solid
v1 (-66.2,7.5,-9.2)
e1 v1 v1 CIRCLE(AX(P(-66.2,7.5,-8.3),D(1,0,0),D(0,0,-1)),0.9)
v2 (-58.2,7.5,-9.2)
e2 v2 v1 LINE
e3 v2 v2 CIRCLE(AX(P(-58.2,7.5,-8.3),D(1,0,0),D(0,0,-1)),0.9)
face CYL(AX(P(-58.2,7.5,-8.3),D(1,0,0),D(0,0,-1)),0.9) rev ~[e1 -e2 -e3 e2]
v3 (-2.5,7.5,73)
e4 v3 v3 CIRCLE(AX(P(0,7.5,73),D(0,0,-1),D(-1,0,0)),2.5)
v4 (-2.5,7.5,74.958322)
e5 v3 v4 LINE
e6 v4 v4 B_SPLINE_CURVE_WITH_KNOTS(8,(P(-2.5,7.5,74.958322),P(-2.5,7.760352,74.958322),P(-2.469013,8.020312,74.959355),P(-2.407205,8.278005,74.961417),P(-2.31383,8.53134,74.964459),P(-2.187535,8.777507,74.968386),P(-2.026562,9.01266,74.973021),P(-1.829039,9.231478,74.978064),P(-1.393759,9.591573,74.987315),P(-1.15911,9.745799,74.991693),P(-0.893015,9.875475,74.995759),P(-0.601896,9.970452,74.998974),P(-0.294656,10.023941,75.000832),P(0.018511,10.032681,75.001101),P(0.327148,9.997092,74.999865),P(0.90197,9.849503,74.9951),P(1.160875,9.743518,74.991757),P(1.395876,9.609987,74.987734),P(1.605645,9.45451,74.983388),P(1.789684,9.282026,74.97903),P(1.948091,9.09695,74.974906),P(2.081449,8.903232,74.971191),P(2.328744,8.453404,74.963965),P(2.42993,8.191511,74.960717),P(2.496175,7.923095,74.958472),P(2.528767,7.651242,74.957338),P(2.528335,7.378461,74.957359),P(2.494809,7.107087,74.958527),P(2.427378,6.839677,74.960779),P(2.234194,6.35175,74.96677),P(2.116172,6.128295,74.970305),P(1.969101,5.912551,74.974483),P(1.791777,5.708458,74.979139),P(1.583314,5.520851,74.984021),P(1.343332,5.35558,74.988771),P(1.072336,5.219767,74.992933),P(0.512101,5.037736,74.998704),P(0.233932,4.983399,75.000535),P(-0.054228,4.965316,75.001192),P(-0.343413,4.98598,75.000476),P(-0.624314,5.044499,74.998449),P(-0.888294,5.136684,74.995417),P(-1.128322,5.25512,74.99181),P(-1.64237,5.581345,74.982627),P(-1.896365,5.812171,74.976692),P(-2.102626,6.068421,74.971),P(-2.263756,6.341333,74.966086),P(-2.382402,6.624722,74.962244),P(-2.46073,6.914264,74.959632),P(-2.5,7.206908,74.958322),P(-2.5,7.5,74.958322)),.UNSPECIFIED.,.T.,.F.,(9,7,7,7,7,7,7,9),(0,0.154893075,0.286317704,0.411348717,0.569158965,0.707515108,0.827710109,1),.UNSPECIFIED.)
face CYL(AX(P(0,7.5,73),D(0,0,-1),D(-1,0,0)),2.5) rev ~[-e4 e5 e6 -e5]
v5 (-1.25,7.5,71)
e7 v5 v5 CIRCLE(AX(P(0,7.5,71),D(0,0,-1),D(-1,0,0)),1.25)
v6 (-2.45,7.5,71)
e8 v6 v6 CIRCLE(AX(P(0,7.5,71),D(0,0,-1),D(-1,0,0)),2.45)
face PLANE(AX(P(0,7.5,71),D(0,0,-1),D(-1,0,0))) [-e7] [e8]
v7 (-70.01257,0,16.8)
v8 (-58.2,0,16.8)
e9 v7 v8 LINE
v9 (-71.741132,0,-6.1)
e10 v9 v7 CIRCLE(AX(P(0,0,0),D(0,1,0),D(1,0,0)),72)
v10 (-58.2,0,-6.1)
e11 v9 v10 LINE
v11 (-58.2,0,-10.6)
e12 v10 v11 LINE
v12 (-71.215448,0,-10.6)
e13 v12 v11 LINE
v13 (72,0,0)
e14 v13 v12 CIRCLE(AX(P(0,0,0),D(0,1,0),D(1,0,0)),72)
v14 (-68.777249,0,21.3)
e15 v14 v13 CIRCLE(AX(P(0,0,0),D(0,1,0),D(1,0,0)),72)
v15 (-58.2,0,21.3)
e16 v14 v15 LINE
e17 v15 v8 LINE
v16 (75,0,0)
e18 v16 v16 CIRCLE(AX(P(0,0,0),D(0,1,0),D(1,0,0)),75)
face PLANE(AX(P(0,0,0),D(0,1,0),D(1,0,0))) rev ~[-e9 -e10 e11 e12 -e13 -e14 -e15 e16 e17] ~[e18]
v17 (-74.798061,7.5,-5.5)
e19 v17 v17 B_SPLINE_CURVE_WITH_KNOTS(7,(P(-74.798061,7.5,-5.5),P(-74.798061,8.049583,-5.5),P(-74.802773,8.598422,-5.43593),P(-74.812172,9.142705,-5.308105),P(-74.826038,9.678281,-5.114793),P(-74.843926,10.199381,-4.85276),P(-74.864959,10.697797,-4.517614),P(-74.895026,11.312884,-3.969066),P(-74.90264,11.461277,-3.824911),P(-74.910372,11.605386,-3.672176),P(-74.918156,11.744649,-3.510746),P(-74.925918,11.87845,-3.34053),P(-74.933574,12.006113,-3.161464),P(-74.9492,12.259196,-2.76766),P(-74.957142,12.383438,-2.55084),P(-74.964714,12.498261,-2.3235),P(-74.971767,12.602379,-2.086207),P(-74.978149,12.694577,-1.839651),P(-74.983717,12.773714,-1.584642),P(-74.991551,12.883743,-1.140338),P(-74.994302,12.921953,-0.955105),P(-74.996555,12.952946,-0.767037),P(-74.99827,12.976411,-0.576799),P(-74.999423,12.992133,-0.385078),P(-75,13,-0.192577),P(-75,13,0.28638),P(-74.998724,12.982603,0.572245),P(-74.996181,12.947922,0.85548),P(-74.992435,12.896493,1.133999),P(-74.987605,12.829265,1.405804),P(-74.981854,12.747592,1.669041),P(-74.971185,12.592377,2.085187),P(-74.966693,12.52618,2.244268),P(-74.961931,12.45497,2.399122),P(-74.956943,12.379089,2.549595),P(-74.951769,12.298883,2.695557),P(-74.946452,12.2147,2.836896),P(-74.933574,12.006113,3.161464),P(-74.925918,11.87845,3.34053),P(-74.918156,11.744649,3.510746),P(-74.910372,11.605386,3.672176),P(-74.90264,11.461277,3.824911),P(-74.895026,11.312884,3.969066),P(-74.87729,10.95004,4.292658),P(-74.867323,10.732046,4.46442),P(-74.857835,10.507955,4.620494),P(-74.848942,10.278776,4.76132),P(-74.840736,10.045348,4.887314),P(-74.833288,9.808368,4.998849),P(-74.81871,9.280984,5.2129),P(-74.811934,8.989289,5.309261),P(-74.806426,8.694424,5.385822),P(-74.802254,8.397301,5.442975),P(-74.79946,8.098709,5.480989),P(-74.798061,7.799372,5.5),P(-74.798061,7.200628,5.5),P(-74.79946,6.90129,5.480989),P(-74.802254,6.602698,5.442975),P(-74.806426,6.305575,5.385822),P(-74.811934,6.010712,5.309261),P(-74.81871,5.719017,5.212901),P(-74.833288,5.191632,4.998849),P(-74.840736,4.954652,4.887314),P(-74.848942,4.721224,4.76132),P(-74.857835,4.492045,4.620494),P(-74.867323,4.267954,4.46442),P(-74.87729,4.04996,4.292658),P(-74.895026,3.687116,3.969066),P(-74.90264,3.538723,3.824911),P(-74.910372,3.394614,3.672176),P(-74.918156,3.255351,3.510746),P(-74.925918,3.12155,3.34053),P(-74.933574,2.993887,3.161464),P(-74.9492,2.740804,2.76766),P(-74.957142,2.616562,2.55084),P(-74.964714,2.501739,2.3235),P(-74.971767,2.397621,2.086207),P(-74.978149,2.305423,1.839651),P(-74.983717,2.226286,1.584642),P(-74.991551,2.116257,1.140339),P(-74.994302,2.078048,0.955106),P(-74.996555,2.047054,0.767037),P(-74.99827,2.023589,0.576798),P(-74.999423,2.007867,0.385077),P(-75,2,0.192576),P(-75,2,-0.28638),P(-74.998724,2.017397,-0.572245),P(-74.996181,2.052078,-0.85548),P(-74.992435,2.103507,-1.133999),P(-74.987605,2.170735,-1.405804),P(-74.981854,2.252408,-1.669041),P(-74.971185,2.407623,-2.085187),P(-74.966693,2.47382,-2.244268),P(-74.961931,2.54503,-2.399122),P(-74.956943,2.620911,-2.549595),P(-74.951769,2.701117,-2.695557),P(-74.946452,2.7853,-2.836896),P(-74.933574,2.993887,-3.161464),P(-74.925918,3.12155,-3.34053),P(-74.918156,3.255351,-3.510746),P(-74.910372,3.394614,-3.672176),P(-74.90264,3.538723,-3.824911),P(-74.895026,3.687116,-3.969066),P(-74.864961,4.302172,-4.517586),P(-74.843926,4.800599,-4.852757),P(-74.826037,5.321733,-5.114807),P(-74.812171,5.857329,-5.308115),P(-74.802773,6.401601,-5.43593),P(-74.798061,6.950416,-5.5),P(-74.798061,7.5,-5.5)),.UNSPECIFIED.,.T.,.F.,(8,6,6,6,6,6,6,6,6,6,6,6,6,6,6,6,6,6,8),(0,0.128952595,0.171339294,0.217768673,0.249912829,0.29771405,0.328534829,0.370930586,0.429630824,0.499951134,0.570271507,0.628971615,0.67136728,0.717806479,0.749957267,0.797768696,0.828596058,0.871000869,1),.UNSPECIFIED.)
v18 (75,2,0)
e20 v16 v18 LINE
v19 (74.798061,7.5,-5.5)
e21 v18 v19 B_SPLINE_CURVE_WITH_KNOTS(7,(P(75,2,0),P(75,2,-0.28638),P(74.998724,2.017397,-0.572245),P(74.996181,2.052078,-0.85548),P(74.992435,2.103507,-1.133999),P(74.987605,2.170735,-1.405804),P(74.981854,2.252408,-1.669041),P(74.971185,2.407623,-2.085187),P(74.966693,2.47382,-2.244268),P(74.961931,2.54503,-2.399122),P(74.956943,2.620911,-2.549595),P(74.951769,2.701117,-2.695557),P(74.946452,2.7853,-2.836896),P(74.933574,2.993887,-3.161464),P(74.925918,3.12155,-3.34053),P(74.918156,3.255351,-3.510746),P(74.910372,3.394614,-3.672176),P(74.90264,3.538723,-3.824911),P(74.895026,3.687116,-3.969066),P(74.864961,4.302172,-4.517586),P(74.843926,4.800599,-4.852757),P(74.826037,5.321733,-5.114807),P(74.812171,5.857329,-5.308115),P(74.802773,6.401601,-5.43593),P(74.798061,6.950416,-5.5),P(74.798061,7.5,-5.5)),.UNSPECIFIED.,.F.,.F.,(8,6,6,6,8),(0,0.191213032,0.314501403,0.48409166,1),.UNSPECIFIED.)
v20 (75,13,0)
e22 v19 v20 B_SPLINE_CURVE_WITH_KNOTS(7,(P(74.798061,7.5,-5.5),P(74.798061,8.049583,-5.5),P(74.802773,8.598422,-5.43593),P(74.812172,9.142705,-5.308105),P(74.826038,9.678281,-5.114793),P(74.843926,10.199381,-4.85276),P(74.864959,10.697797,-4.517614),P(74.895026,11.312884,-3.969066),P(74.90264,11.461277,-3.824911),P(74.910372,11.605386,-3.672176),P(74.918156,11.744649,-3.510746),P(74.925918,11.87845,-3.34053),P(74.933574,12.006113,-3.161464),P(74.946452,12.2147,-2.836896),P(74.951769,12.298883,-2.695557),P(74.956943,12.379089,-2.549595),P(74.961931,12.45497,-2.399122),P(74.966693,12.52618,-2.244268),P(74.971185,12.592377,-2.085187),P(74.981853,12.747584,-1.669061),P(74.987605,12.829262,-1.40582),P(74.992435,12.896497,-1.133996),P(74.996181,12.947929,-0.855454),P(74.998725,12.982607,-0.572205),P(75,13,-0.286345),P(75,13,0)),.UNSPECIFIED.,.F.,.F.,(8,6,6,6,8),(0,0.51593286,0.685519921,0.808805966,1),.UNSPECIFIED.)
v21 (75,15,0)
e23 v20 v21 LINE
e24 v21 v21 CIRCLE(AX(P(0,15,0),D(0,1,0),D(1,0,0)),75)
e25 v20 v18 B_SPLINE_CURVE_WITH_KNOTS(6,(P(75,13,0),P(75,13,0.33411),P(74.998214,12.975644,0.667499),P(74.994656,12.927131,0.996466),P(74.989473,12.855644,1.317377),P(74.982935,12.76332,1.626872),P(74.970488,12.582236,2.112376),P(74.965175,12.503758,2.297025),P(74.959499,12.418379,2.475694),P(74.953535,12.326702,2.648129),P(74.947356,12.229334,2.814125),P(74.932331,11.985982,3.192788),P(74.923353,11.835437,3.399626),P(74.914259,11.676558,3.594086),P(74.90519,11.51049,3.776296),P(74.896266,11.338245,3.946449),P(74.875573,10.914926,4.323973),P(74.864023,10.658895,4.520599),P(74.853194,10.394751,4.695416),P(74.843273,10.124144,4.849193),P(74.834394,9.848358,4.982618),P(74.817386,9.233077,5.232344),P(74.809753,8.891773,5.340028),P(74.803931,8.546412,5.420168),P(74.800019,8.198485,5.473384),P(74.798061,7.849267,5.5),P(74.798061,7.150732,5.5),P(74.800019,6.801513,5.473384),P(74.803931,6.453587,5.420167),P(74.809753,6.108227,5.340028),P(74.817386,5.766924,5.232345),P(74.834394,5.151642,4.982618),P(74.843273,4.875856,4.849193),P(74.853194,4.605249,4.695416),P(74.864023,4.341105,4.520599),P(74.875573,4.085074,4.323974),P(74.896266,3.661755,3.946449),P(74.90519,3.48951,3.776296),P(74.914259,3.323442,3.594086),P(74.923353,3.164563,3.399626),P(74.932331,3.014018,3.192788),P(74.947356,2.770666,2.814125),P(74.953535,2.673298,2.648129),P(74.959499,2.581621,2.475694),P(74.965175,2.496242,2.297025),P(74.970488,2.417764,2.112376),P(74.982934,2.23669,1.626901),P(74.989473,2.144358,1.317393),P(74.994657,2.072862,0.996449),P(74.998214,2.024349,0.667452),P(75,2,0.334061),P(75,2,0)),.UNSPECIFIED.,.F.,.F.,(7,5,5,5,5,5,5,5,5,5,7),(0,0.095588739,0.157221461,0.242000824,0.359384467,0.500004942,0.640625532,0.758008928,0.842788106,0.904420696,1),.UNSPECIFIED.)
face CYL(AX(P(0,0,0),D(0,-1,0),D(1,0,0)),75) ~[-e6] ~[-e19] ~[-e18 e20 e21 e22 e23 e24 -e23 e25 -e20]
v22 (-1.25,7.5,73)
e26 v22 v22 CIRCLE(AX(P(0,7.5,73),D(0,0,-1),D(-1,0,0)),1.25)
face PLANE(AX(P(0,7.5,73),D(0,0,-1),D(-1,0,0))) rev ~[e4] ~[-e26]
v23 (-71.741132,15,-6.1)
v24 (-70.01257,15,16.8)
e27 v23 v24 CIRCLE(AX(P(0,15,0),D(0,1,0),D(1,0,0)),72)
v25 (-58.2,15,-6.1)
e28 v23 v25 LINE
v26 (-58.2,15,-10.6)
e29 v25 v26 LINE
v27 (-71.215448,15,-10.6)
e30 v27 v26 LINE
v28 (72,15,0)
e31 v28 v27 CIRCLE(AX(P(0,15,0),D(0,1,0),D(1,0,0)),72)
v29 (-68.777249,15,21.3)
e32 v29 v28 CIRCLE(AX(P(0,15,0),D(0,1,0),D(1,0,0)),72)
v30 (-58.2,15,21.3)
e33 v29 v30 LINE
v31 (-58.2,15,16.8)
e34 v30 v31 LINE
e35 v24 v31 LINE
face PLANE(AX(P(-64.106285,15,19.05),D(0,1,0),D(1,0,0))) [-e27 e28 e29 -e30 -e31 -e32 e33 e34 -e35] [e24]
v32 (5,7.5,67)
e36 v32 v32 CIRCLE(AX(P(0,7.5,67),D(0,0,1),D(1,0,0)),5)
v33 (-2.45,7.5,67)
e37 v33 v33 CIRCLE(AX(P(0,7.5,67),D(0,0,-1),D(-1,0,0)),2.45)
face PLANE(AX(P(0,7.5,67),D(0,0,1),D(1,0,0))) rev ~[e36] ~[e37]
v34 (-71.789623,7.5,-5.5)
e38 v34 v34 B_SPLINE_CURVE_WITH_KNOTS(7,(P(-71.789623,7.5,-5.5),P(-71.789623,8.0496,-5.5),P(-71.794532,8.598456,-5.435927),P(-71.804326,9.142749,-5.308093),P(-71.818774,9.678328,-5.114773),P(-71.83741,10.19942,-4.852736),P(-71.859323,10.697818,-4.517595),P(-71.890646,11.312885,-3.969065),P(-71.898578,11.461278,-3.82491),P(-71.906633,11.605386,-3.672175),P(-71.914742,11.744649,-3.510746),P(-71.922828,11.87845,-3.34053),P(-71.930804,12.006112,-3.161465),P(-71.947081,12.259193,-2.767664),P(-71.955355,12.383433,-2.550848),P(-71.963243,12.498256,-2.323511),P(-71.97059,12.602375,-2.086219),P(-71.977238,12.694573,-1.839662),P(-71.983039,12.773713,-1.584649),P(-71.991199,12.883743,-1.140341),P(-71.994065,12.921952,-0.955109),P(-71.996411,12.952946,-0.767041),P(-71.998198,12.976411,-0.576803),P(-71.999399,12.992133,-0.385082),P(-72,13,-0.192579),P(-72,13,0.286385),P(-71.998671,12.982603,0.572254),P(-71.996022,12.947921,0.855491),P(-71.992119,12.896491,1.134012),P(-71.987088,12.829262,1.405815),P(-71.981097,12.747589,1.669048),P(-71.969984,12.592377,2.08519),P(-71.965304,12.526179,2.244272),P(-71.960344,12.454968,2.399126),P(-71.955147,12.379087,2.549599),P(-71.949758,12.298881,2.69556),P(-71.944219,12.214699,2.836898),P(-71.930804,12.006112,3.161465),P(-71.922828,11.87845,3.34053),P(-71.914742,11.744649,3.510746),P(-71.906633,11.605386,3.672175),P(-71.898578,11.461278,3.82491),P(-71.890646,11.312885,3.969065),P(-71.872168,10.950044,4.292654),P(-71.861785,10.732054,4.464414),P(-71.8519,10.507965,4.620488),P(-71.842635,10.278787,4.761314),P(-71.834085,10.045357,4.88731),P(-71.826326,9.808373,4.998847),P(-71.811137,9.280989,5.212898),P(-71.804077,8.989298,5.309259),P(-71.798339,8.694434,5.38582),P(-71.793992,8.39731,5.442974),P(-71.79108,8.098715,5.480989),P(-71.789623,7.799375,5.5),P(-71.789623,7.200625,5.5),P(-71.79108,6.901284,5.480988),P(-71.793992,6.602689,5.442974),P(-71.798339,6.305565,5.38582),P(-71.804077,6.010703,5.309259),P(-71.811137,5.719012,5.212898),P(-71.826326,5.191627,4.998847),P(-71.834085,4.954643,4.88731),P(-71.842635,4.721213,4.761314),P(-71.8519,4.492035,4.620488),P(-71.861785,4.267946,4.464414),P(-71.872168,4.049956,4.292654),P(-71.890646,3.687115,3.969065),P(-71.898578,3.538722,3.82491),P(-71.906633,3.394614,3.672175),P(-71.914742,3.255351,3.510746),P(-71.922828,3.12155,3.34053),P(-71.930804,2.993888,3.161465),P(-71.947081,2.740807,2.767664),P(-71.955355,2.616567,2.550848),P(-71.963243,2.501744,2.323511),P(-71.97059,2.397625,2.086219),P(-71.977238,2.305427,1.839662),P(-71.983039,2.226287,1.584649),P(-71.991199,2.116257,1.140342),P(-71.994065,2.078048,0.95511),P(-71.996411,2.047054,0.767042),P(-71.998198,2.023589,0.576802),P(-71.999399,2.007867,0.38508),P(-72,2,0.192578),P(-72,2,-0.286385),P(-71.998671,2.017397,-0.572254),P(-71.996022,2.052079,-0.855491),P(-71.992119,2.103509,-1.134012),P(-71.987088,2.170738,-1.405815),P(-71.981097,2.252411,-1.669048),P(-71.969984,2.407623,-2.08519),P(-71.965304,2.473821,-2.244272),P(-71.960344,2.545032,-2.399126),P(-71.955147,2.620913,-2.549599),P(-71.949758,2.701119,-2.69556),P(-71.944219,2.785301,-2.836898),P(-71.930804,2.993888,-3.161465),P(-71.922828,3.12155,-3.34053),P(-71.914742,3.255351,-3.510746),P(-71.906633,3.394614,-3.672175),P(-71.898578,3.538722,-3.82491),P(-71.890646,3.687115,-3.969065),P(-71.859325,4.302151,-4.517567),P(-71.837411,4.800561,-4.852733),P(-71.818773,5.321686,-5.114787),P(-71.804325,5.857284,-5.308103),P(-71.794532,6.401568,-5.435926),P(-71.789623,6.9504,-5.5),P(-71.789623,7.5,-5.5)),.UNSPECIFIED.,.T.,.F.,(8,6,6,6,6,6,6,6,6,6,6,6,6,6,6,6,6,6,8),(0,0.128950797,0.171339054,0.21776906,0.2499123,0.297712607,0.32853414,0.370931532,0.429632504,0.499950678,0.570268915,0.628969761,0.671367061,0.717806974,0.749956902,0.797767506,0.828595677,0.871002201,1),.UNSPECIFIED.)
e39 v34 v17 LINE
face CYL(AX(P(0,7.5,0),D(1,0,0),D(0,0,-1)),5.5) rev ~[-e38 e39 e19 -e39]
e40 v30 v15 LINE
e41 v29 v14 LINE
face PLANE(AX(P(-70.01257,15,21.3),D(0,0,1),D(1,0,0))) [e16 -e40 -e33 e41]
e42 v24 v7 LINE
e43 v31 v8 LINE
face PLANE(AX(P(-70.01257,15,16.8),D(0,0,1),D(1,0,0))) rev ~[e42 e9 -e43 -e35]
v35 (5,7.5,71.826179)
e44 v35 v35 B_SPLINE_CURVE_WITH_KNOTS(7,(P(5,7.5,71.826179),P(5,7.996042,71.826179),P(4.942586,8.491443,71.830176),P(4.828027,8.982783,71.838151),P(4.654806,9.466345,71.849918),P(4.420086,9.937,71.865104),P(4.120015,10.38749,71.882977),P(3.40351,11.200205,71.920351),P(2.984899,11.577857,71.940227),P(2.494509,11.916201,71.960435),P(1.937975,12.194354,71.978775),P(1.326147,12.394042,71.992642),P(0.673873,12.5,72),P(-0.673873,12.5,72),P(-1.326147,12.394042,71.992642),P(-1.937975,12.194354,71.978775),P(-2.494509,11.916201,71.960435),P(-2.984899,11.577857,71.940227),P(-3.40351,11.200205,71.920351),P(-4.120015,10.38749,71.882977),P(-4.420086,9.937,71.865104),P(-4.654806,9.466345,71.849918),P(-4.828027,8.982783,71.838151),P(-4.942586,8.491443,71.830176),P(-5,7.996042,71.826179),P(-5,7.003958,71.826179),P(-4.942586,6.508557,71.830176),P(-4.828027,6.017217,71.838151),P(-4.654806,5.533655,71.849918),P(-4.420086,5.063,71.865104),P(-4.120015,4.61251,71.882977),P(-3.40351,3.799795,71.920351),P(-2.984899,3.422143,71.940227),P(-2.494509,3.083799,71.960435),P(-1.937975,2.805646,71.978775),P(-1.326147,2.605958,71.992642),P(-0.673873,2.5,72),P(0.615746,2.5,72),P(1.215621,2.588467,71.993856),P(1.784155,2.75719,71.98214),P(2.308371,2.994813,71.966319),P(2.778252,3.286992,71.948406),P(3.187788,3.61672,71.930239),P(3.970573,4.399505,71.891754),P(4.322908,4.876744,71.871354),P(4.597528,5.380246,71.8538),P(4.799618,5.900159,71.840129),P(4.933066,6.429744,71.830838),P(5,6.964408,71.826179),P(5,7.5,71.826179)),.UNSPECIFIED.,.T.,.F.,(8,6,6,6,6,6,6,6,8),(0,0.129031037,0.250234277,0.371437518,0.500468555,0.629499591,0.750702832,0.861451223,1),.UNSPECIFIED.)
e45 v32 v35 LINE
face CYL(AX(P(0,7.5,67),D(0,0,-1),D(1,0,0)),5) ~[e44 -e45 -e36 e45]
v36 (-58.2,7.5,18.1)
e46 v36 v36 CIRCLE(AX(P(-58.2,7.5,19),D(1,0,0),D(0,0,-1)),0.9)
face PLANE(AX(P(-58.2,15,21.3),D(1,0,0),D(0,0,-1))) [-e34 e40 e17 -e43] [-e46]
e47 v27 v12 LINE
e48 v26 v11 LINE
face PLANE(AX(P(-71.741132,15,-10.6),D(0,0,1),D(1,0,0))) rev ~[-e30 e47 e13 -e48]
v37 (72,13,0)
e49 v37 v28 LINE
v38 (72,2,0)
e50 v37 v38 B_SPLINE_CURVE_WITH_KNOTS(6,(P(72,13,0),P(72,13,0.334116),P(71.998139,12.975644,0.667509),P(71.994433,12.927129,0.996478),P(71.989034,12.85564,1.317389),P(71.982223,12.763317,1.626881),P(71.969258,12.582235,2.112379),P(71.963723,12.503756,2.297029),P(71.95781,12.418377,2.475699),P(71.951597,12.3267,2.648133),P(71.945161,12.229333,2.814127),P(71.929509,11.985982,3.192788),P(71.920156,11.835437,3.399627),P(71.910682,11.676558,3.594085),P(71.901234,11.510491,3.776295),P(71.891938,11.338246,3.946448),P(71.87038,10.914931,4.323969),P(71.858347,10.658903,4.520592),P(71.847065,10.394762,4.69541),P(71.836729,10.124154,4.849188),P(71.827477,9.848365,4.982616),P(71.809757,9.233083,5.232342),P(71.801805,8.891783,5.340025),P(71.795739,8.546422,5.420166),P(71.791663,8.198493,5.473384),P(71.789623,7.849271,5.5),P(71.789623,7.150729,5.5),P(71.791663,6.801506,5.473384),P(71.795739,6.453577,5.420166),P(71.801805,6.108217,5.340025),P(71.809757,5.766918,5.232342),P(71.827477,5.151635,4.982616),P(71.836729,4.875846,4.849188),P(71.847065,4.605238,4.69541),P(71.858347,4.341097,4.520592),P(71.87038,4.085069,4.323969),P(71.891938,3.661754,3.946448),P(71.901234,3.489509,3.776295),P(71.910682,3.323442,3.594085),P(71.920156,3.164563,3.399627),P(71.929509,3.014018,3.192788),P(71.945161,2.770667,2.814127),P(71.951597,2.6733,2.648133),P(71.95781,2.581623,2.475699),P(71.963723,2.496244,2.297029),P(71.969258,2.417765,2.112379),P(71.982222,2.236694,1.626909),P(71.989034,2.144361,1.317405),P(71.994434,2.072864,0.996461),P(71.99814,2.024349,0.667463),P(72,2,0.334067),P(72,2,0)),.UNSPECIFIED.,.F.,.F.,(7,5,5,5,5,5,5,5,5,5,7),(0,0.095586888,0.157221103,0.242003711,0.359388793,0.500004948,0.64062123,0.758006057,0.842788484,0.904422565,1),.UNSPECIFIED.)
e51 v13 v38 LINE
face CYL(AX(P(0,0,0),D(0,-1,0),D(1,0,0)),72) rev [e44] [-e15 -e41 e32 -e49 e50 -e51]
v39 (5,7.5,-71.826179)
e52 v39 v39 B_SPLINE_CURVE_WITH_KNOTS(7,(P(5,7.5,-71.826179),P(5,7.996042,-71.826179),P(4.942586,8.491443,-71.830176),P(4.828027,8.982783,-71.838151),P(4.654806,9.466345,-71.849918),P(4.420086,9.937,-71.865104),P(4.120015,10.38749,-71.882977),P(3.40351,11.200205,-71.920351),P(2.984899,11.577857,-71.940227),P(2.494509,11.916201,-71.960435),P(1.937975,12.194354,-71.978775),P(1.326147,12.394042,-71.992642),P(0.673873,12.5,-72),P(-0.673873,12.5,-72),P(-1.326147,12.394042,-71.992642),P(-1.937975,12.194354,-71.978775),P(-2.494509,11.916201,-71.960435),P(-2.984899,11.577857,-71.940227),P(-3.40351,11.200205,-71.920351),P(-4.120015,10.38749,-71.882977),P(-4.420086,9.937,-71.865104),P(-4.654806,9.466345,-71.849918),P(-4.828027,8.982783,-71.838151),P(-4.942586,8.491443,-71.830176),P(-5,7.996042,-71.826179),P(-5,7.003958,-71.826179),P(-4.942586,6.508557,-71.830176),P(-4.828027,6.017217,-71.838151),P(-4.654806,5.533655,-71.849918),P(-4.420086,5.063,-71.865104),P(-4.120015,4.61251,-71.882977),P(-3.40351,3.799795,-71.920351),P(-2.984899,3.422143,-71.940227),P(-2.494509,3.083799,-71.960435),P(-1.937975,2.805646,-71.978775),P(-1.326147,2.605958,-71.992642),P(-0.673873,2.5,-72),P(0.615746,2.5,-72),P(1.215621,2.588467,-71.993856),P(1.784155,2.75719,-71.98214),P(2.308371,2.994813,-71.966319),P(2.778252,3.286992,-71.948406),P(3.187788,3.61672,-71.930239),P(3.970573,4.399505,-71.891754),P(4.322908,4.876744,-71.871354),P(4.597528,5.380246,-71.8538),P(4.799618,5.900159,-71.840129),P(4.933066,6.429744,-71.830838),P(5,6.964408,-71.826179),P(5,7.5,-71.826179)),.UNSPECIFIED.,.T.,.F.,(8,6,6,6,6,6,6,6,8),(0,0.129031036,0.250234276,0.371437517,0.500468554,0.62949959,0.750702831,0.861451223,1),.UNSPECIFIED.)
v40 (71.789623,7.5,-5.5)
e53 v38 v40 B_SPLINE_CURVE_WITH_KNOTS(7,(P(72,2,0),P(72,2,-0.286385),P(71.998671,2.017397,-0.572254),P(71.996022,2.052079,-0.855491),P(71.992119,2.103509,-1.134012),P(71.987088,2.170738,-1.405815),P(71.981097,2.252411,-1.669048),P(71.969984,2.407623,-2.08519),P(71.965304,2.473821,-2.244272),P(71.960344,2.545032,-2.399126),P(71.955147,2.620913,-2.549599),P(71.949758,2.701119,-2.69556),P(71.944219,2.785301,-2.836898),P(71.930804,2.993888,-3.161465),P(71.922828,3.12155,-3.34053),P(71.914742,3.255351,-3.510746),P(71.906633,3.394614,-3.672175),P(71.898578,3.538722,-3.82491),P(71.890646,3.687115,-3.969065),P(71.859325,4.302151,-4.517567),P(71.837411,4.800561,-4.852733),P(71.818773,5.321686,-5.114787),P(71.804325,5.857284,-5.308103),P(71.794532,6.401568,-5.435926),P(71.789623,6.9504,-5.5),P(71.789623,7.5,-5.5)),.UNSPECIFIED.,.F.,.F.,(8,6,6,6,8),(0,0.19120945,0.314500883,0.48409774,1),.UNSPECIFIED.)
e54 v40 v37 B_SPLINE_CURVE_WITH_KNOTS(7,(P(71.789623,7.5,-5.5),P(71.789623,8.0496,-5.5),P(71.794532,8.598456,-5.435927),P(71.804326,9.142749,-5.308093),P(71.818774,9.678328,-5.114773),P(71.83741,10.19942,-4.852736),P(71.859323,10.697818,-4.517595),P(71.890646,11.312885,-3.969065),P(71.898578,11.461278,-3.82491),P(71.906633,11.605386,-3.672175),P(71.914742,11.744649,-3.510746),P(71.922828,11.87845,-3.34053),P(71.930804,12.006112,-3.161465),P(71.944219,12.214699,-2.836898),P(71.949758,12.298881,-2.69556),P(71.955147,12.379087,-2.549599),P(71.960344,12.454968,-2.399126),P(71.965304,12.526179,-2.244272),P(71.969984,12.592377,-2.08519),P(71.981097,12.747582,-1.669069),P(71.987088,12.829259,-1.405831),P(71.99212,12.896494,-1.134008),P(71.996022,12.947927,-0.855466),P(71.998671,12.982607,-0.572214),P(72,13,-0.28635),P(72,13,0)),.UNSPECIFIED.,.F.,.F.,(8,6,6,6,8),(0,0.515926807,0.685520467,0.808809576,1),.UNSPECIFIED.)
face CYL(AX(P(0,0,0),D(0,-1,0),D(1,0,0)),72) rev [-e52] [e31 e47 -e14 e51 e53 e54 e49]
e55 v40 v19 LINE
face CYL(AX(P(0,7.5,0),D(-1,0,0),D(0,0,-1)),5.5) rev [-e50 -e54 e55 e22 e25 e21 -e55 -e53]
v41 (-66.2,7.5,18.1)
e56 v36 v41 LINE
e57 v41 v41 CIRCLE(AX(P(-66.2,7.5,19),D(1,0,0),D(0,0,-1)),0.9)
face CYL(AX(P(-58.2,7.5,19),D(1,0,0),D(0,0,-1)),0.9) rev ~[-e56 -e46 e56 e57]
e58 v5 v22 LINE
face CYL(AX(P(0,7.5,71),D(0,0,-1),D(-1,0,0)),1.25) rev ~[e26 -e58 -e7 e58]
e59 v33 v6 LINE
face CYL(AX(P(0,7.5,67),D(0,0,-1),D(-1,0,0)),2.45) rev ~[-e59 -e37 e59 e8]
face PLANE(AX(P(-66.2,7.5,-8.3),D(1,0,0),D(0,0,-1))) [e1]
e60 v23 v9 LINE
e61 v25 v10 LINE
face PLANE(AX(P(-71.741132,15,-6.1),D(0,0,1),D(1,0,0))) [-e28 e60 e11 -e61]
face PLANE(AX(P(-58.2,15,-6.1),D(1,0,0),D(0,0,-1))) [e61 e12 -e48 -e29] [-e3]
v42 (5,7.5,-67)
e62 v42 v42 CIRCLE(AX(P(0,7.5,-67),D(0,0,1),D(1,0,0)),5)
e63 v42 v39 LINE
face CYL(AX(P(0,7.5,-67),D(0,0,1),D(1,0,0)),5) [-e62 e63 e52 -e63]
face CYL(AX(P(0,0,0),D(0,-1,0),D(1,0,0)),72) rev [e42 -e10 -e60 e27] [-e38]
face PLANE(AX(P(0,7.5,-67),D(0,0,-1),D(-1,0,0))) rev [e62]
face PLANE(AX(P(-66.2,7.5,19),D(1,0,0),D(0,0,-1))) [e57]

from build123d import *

# Parameters (mm, degrees)
SKETCH1_R               = 75
SKETCH1_R_2             = 72
BOSS_EXTRUDE1_DEPTH     = 15
SKETCH2_R               = 5.5
CUT_EXTRUDE1_DEPTH      = 76
CUT_EXTRUDE1_DEPTH_BACK = 76
BOSS_EXTRUDE2_START     = -6
SKETCH3_R               = 5
BOSS_EXTRUDE2_DEPTH     = 7
SKETCH4_W               = 11.8125703
SKETCH4_H               = 4.5
SKETCH4_W_2             = 13.541131856
BOSS_EXTRUDE3_DEPTH     = 15
SKETCH5_R               = 0.9
CUT_EXTRUDE2_DEPTH      = 8
SKETCH6_R               = 2.45
CUT_EXTRUDE3_DEPTH      = 4
SKETCH7_R               = 1.25
CUT_EXTRUDE4_DEPTH      = 4
SKETCH8_R               = 2.5
CUT_EXTRUDE5_DEPTH      = 4


with BuildPart() as part:
    # Sketch1 → Boss-Extrude1 (new body)
    with BuildSketch(Plane(origin=(0, 0, 0), x_dir=(1, 0, 0), z_dir=(0, 1, 0))):
        Circle(SKETCH1_R)
        Circle(SKETCH1_R_2, mode=Mode.SUBTRACT)
    extrude(amount=BOSS_EXTRUDE1_DEPTH)

    # Sketch2 → Cut-Extrude1 (cut, two sides)
    with BuildSketch(Plane(origin=(0, 0, 0), x_dir=(0, 0, -1), z_dir=(1, 0, 0))) as cut_extrude1_sk:
        with Locations((0, 7.5)):
            Circle(SKETCH2_R)
    extrude(amount=CUT_EXTRUDE1_DEPTH, mode=Mode.SUBTRACT)
    extrude(cut_extrude1_sk.sketch, amount=-CUT_EXTRUDE1_DEPTH_BACK, mode=Mode.SUBTRACT)

    # Sketch3 → Boss-Extrude2 (add)
    with BuildSketch(Plane.XY.offset(73).offset(BOSS_EXTRUDE2_START)):
        with Locations((0, 7.5)):
            Circle(SKETCH3_R)
    boss_extrude2 = extrude(amount=BOSS_EXTRUDE2_DEPTH)

    # Mirror1: Boss-Extrude2 across plane
    add(boss_extrude2.mirror(Plane.XY))

    # Sketch4 → Boss-Extrude3 (add)
    with BuildSketch(Plane(origin=(0, 15, 0), x_dir=(1, 0, 0), z_dir=(0, 1, 0))):
        with Locations((-64.10628515, -19.05)):
            Rectangle(SKETCH4_W, SKETCH4_H)
        with Locations((-64.970565928, 8.35)):
            Rectangle(SKETCH4_W_2, SKETCH4_H)
    extrude(amount=-BOSS_EXTRUDE3_DEPTH)

    # Sketch5 → Cut-Extrude2 (cut)
    with BuildSketch(Plane(origin=(-58.2, 0, 0), x_dir=(0, 0, -1), z_dir=(1, 0, 0))):
        with Locations((8.3, 7.5)):
            Circle(SKETCH5_R)
        with Locations((-19, 7.5)):
            Circle(SKETCH5_R)
    extrude(amount=-CUT_EXTRUDE2_DEPTH, mode=Mode.SUBTRACT)

    # Sketch6 → Cut-Extrude3 (cut)
    with BuildSketch(Plane(origin=(0, 0, 67), x_dir=(-1, 0, 0), z_dir=(0, 0, -1))):
        with Locations((0, 7.5)):
            Circle(SKETCH6_R)
    extrude(amount=-CUT_EXTRUDE3_DEPTH, mode=Mode.SUBTRACT)

    # Sketch7 → Cut-Extrude4 (cut)
    with BuildSketch(Plane(origin=(0, 0, 71), x_dir=(-1, 0, 0), z_dir=(0, 0, -1))):
        with Locations((0, 7.5)):
            Circle(SKETCH7_R)
    extrude(amount=-CUT_EXTRUDE4_DEPTH, mode=Mode.SUBTRACT)

    # Sketch8 → Cut-Extrude5 (cut)
    with BuildSketch(Plane(origin=(0, 0, 73), x_dir=(-1, 0, 0), z_dir=(0, 0, -1))):
        with Locations((0, 7.5)):
            Circle(SKETCH8_R)
    extrude(amount=-CUT_EXTRUDE5_DEPTH, mode=Mode.SUBTRACT)


solid = part.part
